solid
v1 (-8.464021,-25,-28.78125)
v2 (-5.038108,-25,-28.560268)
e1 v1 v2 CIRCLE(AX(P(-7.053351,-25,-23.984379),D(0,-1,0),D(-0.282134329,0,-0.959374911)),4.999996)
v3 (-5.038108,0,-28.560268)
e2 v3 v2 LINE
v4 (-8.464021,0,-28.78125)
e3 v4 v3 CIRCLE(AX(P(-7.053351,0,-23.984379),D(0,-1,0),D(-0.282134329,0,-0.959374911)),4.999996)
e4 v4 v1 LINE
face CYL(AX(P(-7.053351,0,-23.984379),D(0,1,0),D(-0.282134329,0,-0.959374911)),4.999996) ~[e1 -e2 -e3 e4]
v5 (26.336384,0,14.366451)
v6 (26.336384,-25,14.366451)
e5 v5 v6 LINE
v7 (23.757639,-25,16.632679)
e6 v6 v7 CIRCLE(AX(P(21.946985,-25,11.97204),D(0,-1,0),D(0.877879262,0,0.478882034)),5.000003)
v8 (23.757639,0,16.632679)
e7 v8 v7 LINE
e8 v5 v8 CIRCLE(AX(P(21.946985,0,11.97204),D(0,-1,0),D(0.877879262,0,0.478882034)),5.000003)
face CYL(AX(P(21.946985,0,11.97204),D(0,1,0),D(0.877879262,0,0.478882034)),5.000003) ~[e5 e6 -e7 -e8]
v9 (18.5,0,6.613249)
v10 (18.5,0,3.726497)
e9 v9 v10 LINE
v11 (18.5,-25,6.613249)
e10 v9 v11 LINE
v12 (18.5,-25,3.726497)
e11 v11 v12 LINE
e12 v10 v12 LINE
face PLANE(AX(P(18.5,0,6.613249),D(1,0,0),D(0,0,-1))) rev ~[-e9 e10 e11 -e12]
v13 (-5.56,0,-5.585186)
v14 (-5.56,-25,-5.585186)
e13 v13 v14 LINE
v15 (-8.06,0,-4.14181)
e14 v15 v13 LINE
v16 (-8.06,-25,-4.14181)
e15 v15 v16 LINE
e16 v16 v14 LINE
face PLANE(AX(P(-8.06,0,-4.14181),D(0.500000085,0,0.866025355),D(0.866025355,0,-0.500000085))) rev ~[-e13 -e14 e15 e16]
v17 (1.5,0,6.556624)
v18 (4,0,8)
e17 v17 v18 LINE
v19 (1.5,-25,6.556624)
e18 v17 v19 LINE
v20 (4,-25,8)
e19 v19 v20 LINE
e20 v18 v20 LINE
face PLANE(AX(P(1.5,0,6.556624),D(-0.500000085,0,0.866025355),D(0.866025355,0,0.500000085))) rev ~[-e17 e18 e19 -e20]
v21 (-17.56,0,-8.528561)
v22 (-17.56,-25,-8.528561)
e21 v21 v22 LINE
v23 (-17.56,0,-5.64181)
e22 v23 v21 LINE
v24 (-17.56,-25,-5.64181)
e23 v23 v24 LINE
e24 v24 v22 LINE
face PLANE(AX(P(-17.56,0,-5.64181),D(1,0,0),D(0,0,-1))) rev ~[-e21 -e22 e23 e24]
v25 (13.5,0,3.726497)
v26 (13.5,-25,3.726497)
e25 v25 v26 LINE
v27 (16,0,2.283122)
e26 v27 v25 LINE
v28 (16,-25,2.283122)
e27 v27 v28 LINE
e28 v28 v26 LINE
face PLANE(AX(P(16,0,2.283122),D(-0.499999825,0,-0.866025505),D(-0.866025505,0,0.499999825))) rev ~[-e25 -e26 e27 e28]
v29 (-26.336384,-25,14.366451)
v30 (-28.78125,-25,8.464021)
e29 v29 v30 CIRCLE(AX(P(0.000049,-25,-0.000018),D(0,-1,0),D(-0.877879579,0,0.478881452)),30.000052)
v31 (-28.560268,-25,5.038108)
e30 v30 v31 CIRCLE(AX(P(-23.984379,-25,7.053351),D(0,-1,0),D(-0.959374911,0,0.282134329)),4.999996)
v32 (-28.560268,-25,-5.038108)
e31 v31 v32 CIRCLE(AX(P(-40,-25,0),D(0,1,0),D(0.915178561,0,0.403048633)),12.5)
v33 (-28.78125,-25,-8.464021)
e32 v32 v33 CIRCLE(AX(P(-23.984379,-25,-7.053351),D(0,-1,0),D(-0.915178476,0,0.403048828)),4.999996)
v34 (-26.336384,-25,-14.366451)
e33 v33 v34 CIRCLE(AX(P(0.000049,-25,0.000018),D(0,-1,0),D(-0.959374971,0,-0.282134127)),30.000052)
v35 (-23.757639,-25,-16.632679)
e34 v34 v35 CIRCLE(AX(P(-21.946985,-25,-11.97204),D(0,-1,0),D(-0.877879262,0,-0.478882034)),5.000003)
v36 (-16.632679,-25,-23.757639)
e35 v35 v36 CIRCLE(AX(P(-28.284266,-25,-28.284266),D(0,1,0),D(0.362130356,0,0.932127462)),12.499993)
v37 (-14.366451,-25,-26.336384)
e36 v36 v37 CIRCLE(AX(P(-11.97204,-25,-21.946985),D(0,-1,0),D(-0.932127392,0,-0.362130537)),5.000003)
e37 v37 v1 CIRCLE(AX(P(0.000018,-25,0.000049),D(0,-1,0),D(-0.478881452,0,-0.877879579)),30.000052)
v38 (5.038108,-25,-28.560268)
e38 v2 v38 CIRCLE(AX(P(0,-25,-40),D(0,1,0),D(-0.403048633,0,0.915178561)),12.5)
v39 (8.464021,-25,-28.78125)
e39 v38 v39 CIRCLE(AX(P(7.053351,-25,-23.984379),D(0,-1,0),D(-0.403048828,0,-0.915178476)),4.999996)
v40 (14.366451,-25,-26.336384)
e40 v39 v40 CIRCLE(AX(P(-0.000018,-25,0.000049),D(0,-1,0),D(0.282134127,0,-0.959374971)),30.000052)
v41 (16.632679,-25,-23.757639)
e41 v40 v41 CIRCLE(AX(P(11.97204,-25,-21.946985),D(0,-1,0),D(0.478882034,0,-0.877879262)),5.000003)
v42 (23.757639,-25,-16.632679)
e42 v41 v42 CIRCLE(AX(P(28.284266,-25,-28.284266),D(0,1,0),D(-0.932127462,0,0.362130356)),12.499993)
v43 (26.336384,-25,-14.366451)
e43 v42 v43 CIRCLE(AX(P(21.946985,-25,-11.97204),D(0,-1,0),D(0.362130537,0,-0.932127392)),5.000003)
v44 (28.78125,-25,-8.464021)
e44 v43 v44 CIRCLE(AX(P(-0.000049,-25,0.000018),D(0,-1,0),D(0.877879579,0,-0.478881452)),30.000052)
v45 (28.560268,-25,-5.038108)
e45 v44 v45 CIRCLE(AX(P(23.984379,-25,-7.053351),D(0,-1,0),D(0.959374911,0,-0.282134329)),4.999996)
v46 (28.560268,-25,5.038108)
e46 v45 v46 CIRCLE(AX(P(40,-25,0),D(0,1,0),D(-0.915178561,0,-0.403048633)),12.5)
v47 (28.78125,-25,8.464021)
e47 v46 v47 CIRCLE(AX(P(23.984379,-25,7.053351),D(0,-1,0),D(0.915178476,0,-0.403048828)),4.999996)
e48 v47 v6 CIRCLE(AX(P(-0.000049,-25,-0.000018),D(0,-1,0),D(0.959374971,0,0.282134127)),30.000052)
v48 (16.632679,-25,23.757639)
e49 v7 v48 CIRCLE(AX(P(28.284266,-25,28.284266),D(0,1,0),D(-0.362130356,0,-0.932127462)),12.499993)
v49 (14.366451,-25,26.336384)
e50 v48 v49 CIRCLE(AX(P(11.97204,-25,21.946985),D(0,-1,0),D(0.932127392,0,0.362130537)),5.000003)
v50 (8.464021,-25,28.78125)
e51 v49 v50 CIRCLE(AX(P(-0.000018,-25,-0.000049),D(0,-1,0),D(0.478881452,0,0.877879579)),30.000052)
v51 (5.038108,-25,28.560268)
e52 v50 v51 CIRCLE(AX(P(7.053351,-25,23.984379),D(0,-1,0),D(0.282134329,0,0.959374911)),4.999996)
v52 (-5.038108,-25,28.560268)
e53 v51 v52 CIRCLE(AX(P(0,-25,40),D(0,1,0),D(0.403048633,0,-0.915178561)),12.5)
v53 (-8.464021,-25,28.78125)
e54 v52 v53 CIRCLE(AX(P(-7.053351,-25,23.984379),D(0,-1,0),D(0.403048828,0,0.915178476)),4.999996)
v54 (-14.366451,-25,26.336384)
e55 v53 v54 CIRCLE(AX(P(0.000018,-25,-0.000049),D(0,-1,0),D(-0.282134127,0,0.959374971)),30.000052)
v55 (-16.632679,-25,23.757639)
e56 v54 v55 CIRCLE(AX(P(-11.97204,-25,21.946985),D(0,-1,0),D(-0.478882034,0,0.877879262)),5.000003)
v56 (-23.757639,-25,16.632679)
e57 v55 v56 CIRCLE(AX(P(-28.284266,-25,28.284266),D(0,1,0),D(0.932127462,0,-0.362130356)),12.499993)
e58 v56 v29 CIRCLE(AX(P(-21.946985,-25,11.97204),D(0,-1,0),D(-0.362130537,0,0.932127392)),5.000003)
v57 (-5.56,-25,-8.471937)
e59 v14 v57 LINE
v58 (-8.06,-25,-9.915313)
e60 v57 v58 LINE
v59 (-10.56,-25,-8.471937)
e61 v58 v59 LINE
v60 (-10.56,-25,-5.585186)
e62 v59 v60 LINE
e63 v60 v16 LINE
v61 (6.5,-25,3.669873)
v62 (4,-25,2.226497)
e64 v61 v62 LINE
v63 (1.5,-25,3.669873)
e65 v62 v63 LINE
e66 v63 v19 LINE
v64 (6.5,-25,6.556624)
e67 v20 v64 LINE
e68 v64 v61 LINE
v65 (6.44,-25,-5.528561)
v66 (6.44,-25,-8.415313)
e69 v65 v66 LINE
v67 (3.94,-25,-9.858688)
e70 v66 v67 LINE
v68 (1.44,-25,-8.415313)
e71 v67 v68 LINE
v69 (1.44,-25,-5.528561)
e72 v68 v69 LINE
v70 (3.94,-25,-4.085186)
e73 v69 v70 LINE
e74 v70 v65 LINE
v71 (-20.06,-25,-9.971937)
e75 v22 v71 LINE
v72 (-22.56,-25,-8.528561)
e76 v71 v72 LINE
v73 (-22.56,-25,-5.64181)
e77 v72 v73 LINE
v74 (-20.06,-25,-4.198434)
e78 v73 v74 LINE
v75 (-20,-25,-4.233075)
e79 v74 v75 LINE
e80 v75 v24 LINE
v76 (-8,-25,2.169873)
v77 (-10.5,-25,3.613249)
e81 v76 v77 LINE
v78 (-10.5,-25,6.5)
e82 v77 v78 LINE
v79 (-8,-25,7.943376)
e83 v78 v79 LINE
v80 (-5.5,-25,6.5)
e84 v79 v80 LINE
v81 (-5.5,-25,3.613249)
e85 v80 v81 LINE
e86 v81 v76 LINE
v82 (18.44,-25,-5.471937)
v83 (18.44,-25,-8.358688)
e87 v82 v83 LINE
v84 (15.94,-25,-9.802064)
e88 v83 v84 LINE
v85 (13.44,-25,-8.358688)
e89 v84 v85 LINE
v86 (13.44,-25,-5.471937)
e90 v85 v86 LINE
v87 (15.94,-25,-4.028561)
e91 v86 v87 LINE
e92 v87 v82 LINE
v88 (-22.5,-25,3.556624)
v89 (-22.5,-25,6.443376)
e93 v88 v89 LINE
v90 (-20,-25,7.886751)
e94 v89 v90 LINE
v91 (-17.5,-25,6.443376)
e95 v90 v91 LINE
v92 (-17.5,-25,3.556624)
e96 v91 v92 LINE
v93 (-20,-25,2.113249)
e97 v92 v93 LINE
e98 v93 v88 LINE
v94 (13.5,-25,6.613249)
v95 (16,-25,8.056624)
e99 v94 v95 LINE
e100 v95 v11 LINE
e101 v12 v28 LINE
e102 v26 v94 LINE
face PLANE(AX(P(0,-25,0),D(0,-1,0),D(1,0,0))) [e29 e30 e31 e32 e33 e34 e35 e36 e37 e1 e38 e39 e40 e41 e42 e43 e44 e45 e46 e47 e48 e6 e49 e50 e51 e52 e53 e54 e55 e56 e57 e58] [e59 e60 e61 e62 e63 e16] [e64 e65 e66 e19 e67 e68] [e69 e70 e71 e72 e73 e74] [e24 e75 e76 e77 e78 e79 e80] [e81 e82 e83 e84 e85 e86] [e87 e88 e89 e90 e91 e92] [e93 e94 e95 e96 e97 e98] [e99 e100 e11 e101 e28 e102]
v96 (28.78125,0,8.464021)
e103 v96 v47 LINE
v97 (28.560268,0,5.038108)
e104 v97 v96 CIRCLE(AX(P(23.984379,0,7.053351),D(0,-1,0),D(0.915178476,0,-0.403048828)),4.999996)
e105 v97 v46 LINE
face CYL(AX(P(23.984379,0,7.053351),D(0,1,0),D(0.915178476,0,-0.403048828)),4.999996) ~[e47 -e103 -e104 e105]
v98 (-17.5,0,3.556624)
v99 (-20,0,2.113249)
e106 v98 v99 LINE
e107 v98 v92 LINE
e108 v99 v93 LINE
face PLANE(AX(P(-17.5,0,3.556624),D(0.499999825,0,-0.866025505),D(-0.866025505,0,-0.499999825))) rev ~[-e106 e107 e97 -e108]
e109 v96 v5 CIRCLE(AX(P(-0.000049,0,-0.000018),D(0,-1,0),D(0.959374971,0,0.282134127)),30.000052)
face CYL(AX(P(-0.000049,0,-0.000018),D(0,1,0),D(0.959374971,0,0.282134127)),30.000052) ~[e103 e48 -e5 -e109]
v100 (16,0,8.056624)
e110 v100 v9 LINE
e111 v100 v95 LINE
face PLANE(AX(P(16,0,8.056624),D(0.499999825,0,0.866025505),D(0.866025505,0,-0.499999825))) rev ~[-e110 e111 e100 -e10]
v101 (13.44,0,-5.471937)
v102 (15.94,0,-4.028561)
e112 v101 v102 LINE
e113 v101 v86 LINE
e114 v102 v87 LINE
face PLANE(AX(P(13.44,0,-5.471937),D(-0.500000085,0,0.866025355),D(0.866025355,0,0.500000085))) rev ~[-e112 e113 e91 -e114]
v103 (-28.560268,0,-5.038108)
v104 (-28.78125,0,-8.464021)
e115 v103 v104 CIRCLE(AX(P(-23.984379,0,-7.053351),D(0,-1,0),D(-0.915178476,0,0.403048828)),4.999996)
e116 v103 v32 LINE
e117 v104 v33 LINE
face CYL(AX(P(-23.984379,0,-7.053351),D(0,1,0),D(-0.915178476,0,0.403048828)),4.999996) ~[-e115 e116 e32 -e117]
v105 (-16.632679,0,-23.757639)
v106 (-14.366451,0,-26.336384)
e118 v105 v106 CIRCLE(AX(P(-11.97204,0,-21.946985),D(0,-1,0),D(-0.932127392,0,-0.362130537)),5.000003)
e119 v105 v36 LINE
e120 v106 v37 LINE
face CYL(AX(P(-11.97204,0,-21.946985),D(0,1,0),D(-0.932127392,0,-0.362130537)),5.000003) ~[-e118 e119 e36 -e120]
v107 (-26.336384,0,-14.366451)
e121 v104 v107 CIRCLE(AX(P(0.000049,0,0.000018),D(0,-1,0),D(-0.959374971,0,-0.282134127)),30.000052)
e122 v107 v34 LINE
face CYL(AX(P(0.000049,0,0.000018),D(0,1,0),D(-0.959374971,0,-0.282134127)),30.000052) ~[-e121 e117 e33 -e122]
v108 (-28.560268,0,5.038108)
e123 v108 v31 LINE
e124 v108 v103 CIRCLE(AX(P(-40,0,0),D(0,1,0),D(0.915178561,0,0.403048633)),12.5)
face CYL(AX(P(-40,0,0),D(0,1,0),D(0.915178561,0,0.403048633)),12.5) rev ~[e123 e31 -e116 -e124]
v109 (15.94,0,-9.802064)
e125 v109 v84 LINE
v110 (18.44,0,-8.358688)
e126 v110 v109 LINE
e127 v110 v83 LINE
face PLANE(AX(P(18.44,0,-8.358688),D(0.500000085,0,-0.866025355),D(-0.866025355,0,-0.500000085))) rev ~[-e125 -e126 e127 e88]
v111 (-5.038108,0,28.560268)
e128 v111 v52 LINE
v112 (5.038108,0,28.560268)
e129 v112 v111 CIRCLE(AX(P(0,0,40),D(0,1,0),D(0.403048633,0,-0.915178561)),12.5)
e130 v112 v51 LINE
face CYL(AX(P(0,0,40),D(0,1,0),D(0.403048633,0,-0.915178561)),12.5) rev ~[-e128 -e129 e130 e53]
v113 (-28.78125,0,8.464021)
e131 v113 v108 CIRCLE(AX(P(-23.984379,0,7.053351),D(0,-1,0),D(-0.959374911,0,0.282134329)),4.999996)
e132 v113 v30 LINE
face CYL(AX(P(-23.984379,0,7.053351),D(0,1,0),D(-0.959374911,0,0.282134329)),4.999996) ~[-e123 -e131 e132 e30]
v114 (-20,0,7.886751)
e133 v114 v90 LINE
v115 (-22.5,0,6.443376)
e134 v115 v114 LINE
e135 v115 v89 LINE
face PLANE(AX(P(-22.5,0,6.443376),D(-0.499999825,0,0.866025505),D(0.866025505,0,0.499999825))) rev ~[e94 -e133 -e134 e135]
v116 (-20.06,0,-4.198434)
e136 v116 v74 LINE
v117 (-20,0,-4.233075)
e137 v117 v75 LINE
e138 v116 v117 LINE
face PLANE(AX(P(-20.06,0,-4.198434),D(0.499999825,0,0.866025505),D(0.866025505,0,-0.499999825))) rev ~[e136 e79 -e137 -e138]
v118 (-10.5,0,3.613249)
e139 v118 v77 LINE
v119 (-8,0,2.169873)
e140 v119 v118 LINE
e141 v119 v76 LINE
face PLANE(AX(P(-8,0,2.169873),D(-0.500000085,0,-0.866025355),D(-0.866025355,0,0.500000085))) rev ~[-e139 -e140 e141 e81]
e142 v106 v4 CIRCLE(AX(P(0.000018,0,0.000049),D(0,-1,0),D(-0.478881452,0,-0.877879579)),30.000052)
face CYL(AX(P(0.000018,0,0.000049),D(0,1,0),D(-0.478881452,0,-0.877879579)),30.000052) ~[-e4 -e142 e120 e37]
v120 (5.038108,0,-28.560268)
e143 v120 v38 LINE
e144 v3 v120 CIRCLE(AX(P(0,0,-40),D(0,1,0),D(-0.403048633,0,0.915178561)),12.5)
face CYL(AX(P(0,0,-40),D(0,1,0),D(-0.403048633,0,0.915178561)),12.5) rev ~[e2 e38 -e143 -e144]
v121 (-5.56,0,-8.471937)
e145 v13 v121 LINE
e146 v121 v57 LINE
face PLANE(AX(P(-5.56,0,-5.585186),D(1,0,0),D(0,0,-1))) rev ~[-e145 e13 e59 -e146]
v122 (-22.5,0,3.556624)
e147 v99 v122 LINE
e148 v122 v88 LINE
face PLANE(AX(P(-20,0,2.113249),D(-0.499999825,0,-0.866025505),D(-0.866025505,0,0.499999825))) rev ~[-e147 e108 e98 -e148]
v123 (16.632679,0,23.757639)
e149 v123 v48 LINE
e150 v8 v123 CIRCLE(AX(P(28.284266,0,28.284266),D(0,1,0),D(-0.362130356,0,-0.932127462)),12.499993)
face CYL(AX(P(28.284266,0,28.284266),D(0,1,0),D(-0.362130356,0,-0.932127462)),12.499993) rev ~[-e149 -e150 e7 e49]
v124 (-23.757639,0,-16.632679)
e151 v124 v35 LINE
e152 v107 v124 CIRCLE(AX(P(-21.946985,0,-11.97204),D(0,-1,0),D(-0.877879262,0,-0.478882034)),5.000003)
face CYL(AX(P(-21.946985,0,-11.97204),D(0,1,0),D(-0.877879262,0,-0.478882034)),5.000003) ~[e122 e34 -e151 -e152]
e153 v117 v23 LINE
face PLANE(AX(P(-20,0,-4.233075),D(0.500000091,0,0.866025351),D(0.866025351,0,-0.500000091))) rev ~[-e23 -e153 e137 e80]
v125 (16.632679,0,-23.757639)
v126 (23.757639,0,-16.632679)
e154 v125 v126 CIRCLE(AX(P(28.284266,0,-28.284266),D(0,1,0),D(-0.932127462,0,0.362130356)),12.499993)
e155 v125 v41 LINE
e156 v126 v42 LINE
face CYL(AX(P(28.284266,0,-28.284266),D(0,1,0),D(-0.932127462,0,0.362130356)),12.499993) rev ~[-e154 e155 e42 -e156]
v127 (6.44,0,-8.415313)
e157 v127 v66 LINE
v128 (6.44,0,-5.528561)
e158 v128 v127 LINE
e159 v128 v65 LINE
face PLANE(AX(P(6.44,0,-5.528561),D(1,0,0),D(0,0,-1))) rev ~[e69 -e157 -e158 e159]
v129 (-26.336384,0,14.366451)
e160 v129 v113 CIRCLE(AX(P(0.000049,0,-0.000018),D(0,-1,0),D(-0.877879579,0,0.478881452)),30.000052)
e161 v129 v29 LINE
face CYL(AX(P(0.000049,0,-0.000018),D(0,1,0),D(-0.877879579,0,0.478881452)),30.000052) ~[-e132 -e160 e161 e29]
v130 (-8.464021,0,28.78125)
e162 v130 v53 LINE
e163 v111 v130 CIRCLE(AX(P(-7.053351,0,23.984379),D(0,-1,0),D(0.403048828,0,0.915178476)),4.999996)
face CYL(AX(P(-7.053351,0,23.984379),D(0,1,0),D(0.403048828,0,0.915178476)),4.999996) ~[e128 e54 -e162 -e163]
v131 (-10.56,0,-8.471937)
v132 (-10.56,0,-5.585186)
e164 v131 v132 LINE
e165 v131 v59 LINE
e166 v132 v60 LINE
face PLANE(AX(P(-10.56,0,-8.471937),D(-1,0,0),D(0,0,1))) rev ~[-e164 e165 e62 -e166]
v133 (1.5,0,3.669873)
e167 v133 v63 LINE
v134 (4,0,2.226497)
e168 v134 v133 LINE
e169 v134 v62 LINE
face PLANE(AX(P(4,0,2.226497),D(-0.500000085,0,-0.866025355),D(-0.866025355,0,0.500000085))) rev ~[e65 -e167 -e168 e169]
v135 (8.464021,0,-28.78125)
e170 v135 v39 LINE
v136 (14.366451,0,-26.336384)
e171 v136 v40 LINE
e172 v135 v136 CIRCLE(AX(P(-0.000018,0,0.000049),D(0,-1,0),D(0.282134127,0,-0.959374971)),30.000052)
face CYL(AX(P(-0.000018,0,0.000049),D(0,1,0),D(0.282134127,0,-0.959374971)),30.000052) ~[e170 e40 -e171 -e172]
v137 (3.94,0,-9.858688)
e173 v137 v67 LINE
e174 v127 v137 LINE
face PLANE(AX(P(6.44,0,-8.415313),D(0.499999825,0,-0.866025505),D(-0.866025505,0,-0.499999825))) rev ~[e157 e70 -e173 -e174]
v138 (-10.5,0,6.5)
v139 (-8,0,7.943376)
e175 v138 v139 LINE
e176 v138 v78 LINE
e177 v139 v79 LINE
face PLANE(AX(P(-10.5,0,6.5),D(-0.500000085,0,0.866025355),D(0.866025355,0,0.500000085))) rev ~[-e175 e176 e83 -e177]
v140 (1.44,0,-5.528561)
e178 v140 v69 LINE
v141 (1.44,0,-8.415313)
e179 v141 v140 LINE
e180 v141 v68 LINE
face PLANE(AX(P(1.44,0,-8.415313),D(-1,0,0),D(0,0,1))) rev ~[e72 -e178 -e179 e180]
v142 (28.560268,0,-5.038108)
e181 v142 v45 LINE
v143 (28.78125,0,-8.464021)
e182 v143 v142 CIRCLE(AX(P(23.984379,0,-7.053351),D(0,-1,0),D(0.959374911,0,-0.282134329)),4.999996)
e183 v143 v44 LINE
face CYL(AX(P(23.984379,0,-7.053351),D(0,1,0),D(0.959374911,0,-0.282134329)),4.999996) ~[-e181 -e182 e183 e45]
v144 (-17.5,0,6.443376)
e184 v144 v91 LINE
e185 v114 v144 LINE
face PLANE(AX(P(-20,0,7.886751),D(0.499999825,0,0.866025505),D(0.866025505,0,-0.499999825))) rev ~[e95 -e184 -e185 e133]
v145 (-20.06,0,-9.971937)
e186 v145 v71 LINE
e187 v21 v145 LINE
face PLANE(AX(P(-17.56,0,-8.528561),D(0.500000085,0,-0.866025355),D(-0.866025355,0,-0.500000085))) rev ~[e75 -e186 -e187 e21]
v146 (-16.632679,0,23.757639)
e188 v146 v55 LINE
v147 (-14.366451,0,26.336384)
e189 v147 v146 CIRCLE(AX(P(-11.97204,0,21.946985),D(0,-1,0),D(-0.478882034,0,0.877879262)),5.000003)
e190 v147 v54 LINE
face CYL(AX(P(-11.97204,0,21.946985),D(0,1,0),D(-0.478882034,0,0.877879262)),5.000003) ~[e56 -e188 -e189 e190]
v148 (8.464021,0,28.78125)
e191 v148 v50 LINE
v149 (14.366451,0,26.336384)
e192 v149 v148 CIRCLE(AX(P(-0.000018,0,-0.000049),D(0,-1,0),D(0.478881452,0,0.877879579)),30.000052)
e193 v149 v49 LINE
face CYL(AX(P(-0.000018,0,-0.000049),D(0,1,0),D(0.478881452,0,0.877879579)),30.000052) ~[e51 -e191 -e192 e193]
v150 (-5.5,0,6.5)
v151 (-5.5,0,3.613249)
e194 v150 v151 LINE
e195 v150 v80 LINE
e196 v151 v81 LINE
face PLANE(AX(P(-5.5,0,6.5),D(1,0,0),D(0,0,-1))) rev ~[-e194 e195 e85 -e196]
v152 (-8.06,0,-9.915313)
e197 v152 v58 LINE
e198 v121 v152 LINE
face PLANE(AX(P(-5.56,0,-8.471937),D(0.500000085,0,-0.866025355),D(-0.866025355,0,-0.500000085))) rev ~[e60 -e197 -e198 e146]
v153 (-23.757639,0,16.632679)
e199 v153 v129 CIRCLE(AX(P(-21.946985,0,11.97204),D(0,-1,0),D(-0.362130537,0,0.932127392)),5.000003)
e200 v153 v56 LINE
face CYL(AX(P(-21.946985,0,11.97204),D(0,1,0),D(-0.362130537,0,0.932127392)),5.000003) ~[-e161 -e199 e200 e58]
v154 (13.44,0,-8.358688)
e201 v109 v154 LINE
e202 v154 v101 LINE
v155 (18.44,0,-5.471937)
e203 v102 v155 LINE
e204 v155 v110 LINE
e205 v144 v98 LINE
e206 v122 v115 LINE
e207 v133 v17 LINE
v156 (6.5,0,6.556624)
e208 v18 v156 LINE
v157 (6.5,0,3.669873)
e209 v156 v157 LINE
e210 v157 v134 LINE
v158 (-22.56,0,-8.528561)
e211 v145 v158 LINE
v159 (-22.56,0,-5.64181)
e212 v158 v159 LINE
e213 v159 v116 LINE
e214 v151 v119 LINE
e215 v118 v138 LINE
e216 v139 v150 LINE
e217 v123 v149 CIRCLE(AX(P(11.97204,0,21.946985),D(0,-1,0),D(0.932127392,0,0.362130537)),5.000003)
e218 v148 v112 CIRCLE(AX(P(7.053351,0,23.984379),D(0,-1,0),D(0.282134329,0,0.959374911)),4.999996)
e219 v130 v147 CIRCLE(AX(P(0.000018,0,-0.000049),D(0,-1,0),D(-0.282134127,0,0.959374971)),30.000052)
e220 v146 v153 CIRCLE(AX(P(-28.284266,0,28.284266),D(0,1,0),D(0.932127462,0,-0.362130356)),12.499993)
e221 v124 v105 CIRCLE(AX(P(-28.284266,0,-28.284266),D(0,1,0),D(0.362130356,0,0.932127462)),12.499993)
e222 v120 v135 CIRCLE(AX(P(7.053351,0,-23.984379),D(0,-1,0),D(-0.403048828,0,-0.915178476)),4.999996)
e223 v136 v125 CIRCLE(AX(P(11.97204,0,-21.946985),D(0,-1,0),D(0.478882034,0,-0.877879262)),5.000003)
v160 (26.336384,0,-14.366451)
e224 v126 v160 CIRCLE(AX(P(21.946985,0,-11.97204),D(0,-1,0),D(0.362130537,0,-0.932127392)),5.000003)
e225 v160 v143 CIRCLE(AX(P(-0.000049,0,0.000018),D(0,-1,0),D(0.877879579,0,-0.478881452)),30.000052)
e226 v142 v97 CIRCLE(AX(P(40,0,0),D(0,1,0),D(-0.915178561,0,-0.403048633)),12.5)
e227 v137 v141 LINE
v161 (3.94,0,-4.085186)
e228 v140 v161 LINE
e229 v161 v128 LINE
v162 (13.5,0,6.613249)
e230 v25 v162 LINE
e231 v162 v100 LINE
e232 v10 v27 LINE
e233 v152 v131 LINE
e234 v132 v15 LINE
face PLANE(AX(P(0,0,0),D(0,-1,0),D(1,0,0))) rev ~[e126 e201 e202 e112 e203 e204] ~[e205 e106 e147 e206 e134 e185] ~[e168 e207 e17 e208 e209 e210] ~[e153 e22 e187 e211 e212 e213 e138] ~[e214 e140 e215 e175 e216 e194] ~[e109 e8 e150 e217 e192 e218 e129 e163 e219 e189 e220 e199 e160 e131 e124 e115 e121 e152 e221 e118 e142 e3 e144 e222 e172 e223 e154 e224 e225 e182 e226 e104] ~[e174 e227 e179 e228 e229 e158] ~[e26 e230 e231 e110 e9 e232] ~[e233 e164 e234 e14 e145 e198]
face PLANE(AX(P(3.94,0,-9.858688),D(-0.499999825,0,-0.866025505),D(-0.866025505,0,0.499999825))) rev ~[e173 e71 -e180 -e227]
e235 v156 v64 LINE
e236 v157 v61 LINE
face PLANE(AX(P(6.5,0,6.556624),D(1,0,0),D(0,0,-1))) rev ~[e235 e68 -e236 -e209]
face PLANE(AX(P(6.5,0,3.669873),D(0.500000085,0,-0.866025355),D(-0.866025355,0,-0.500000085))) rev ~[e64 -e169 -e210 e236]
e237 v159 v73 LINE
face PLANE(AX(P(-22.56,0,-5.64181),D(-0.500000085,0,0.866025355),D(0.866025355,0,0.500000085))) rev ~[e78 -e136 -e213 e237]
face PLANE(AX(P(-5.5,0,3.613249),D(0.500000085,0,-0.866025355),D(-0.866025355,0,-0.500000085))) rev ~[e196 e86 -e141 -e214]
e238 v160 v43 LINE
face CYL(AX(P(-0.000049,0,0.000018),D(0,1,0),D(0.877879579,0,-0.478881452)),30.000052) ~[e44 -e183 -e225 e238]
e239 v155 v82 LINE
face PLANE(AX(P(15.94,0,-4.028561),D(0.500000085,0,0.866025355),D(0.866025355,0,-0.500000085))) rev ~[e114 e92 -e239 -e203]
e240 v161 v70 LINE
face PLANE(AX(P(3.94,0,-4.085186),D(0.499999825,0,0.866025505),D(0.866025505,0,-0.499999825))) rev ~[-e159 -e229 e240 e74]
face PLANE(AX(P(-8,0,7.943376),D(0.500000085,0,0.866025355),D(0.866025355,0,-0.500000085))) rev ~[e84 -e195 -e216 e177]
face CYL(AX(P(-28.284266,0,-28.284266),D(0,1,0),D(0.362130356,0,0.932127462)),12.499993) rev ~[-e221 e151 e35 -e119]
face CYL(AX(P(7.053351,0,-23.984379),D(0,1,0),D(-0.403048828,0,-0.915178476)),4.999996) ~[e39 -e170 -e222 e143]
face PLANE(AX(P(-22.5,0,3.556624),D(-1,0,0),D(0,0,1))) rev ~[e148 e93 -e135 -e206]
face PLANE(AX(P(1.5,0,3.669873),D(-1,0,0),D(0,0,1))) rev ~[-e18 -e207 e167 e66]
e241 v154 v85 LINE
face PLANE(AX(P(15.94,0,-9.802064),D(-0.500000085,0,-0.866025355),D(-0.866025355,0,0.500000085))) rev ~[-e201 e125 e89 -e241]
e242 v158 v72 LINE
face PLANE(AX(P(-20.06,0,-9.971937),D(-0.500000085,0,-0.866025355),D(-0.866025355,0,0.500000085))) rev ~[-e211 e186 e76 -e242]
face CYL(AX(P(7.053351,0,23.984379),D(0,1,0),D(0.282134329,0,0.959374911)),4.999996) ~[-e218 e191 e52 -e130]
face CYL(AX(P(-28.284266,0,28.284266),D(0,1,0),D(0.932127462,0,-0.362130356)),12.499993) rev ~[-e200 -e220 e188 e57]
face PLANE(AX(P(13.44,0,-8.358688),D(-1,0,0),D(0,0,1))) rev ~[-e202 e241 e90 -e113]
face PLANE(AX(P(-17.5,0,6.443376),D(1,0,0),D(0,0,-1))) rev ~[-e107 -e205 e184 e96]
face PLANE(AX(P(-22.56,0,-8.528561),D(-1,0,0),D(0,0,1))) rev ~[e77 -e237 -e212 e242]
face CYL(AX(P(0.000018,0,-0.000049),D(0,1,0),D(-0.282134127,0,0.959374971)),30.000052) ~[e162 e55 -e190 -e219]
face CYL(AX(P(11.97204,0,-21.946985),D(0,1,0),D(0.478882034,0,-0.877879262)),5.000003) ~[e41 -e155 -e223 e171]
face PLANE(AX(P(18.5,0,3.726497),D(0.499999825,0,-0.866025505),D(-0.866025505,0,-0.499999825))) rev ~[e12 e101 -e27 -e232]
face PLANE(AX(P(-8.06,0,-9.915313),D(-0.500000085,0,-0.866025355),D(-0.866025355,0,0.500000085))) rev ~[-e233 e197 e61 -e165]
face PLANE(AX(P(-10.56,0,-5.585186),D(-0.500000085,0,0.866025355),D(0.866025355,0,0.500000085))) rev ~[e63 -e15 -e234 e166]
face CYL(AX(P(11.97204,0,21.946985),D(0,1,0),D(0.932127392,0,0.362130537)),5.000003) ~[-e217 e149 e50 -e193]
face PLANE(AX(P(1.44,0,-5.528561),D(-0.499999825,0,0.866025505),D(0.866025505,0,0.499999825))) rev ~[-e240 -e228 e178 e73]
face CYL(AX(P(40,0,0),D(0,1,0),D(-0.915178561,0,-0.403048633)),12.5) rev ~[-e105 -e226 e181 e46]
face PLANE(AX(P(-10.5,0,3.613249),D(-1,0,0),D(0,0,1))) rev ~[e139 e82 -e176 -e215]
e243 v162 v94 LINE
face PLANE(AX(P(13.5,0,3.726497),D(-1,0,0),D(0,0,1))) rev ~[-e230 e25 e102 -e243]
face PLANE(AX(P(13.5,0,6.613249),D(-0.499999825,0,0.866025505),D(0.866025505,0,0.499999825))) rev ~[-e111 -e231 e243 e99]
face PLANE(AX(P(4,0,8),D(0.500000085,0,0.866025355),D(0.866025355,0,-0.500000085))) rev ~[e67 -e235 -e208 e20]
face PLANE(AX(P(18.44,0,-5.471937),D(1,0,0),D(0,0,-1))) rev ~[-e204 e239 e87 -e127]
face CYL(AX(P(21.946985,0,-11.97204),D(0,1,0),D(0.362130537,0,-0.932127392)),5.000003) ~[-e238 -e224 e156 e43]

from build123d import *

# Parameters (mm, degrees)
F1_DEPTH = 25


with BuildPart() as f1:
    # F0 (on Front) → F1 (new body)
    with BuildSketch(Plane.XZ):
        with BuildLine():
            ThreePointArc((-5.038108, 28.560268), (-6.731504, 28.974006), (-8.464021, 28.78125))
            ThreePointArc((-8.464021, 28.78125), (-11.480503, 27.716386), (-14.366451, 26.336384))
            ThreePointArc((-14.366451, 26.336384), (-15.727824, 25.247608), (-16.632679, 23.757639))
            ThreePointArc((-16.632679, 23.757639), (-19.445436, 19.445436), (-23.757639, 16.632679))
            ThreePointArc((-23.757639, 16.632679), (-25.247608, 15.727824), (-26.336384, 14.366451))
            ThreePointArc((-26.336384, 14.366451), (-27.716386, 11.480503), (-28.78125, 8.464021))
            ThreePointArc((-28.78125, 8.464021), (-28.974006, 6.731504), (-28.560268, 5.038108))
            ThreePointArc((-28.560268, 5.038108), (-27.5, 0), (-28.560268, -5.038108))
            ThreePointArc((-28.560268, -5.038108), (-28.974006, -6.731504), (-28.78125, -8.464021))
            ThreePointArc((-28.78125, -8.464021), (-27.716386, -11.480503), (-26.336384, -14.366451))
            ThreePointArc((-26.336384, -14.366451), (-25.247608, -15.727824), (-23.757639, -16.632679))
            ThreePointArc((-23.757639, -16.632679), (-19.445436, -19.445436), (-16.632679, -23.757639))
            ThreePointArc((-16.632679, -23.757639), (-15.727824, -25.247608), (-14.366451, -26.336384))
            ThreePointArc((-14.366451, -26.336384), (-11.480503, -27.716386), (-8.464021, -28.78125))
            ThreePointArc((-8.464021, -28.78125), (-6.731504, -28.974006), (-5.038108, -28.560268))
            ThreePointArc((-5.038108, -28.560268), (0, -27.5), (5.038108, -28.560268))
            ThreePointArc((5.038108, -28.560268), (6.731504, -28.974006), (8.464021, -28.78125))
            ThreePointArc((8.464021, -28.78125), (11.480503, -27.716386), (14.366451, -26.336384))
            ThreePointArc((14.366451, -26.336384), (15.727824, -25.247608), (16.632679, -23.757639))
            ThreePointArc((16.632679, -23.757639), (19.445436, -19.445436), (23.757639, -16.632679))
            ThreePointArc((23.757639, -16.632679), (25.247608, -15.727824), (26.336384, -14.366451))
            ThreePointArc((26.336384, -14.366451), (27.716386, -11.480503), (28.78125, -8.464021))
            ThreePointArc((28.78125, -8.464021), (28.974006, -6.731504), (28.560268, -5.038108))
            ThreePointArc((28.560268, -5.038108), (27.5, 0), (28.560268, 5.038108))
            ThreePointArc((28.560268, 5.038108), (28.974006, 6.731504), (28.78125, 8.464021))
            ThreePointArc((28.78125, 8.464021), (27.716386, 11.480503), (26.336384, 14.366451))
            ThreePointArc((26.336384, 14.366451), (25.247608, 15.727824), (23.757639, 16.632679))
            ThreePointArc((23.757639, 16.632679), (19.445436, 19.445436), (16.632679, 23.757639))
            ThreePointArc((16.632679, 23.757639), (15.727824, 25.247608), (14.366451, 26.336384))
            ThreePointArc((14.366451, 26.336384), (11.480503, 27.716386), (8.464021, 28.78125))
            ThreePointArc((8.464021, 28.78125), (6.731504, 28.974006), (5.038108, 28.560268))
            ThreePointArc((5.038108, 28.560268), (0, 27.5), (-5.038108, 28.560268))
        make_face()
        Polygon((-20.06, -4.198434), (-20, -4.233075), (-17.56, -5.64181), (-17.56, -7), (-17.56, -8.528561), (-20.06, -9.971937), (-22.56, -8.528561), (-22.56, -5.64181), align=None, mode=Mode.SUBTRACT)
        Polygon((-8.06, -9.915313), (-10.56, -8.471937), (-10.56, -5.585186), (-8.06, -4.14181), (-5.56, -5.585186), (-5.56, -8.471937), align=None, mode=Mode.SUBTRACT)
        Polygon((6.44, -8.415313), (3.94, -9.858688), (1.44, -8.415313), (1.44, -5.528561), (3.94, -4.085186), (6.44, -5.528561), align=None, mode=Mode.SUBTRACT)
        Polygon((13.44, -8.358688), (13.44, -5.471937), (15.94, -4.028561), (18.44, -5.471937), (18.44, -8.358688), (15.94, -9.802064), align=None, mode=Mode.SUBTRACT)
        Polygon((-17.5, 6.443376), (-17.5, 3.556624), (-20, 2.113249), (-22.5, 3.556624), (-22.5, 6.443376), (-20, 7.886751), align=None, mode=Mode.SUBTRACT)
        Polygon((-10.5, 3.613249), (-10.5, 6.5), (-8, 7.943376), (-5.5, 6.5), (-5.5, 3.613249), (-8, 2.169873), align=None, mode=Mode.SUBTRACT)
        Polygon((1.5, 3.669873), (1.5, 6.556624), (4, 8), (6.5, 6.556624), (6.5, 3.669873), (4, 2.226497), align=None, mode=Mode.SUBTRACT)
        Polygon((13.5, 3.726497), (13.5, 6.613249), (16, 8.056624), (18.5, 6.613249), (18.5, 3.726497), (16, 2.283122), align=None, mode=Mode.SUBTRACT)
    extrude(amount=F1_DEPTH)


solid = f1.part
